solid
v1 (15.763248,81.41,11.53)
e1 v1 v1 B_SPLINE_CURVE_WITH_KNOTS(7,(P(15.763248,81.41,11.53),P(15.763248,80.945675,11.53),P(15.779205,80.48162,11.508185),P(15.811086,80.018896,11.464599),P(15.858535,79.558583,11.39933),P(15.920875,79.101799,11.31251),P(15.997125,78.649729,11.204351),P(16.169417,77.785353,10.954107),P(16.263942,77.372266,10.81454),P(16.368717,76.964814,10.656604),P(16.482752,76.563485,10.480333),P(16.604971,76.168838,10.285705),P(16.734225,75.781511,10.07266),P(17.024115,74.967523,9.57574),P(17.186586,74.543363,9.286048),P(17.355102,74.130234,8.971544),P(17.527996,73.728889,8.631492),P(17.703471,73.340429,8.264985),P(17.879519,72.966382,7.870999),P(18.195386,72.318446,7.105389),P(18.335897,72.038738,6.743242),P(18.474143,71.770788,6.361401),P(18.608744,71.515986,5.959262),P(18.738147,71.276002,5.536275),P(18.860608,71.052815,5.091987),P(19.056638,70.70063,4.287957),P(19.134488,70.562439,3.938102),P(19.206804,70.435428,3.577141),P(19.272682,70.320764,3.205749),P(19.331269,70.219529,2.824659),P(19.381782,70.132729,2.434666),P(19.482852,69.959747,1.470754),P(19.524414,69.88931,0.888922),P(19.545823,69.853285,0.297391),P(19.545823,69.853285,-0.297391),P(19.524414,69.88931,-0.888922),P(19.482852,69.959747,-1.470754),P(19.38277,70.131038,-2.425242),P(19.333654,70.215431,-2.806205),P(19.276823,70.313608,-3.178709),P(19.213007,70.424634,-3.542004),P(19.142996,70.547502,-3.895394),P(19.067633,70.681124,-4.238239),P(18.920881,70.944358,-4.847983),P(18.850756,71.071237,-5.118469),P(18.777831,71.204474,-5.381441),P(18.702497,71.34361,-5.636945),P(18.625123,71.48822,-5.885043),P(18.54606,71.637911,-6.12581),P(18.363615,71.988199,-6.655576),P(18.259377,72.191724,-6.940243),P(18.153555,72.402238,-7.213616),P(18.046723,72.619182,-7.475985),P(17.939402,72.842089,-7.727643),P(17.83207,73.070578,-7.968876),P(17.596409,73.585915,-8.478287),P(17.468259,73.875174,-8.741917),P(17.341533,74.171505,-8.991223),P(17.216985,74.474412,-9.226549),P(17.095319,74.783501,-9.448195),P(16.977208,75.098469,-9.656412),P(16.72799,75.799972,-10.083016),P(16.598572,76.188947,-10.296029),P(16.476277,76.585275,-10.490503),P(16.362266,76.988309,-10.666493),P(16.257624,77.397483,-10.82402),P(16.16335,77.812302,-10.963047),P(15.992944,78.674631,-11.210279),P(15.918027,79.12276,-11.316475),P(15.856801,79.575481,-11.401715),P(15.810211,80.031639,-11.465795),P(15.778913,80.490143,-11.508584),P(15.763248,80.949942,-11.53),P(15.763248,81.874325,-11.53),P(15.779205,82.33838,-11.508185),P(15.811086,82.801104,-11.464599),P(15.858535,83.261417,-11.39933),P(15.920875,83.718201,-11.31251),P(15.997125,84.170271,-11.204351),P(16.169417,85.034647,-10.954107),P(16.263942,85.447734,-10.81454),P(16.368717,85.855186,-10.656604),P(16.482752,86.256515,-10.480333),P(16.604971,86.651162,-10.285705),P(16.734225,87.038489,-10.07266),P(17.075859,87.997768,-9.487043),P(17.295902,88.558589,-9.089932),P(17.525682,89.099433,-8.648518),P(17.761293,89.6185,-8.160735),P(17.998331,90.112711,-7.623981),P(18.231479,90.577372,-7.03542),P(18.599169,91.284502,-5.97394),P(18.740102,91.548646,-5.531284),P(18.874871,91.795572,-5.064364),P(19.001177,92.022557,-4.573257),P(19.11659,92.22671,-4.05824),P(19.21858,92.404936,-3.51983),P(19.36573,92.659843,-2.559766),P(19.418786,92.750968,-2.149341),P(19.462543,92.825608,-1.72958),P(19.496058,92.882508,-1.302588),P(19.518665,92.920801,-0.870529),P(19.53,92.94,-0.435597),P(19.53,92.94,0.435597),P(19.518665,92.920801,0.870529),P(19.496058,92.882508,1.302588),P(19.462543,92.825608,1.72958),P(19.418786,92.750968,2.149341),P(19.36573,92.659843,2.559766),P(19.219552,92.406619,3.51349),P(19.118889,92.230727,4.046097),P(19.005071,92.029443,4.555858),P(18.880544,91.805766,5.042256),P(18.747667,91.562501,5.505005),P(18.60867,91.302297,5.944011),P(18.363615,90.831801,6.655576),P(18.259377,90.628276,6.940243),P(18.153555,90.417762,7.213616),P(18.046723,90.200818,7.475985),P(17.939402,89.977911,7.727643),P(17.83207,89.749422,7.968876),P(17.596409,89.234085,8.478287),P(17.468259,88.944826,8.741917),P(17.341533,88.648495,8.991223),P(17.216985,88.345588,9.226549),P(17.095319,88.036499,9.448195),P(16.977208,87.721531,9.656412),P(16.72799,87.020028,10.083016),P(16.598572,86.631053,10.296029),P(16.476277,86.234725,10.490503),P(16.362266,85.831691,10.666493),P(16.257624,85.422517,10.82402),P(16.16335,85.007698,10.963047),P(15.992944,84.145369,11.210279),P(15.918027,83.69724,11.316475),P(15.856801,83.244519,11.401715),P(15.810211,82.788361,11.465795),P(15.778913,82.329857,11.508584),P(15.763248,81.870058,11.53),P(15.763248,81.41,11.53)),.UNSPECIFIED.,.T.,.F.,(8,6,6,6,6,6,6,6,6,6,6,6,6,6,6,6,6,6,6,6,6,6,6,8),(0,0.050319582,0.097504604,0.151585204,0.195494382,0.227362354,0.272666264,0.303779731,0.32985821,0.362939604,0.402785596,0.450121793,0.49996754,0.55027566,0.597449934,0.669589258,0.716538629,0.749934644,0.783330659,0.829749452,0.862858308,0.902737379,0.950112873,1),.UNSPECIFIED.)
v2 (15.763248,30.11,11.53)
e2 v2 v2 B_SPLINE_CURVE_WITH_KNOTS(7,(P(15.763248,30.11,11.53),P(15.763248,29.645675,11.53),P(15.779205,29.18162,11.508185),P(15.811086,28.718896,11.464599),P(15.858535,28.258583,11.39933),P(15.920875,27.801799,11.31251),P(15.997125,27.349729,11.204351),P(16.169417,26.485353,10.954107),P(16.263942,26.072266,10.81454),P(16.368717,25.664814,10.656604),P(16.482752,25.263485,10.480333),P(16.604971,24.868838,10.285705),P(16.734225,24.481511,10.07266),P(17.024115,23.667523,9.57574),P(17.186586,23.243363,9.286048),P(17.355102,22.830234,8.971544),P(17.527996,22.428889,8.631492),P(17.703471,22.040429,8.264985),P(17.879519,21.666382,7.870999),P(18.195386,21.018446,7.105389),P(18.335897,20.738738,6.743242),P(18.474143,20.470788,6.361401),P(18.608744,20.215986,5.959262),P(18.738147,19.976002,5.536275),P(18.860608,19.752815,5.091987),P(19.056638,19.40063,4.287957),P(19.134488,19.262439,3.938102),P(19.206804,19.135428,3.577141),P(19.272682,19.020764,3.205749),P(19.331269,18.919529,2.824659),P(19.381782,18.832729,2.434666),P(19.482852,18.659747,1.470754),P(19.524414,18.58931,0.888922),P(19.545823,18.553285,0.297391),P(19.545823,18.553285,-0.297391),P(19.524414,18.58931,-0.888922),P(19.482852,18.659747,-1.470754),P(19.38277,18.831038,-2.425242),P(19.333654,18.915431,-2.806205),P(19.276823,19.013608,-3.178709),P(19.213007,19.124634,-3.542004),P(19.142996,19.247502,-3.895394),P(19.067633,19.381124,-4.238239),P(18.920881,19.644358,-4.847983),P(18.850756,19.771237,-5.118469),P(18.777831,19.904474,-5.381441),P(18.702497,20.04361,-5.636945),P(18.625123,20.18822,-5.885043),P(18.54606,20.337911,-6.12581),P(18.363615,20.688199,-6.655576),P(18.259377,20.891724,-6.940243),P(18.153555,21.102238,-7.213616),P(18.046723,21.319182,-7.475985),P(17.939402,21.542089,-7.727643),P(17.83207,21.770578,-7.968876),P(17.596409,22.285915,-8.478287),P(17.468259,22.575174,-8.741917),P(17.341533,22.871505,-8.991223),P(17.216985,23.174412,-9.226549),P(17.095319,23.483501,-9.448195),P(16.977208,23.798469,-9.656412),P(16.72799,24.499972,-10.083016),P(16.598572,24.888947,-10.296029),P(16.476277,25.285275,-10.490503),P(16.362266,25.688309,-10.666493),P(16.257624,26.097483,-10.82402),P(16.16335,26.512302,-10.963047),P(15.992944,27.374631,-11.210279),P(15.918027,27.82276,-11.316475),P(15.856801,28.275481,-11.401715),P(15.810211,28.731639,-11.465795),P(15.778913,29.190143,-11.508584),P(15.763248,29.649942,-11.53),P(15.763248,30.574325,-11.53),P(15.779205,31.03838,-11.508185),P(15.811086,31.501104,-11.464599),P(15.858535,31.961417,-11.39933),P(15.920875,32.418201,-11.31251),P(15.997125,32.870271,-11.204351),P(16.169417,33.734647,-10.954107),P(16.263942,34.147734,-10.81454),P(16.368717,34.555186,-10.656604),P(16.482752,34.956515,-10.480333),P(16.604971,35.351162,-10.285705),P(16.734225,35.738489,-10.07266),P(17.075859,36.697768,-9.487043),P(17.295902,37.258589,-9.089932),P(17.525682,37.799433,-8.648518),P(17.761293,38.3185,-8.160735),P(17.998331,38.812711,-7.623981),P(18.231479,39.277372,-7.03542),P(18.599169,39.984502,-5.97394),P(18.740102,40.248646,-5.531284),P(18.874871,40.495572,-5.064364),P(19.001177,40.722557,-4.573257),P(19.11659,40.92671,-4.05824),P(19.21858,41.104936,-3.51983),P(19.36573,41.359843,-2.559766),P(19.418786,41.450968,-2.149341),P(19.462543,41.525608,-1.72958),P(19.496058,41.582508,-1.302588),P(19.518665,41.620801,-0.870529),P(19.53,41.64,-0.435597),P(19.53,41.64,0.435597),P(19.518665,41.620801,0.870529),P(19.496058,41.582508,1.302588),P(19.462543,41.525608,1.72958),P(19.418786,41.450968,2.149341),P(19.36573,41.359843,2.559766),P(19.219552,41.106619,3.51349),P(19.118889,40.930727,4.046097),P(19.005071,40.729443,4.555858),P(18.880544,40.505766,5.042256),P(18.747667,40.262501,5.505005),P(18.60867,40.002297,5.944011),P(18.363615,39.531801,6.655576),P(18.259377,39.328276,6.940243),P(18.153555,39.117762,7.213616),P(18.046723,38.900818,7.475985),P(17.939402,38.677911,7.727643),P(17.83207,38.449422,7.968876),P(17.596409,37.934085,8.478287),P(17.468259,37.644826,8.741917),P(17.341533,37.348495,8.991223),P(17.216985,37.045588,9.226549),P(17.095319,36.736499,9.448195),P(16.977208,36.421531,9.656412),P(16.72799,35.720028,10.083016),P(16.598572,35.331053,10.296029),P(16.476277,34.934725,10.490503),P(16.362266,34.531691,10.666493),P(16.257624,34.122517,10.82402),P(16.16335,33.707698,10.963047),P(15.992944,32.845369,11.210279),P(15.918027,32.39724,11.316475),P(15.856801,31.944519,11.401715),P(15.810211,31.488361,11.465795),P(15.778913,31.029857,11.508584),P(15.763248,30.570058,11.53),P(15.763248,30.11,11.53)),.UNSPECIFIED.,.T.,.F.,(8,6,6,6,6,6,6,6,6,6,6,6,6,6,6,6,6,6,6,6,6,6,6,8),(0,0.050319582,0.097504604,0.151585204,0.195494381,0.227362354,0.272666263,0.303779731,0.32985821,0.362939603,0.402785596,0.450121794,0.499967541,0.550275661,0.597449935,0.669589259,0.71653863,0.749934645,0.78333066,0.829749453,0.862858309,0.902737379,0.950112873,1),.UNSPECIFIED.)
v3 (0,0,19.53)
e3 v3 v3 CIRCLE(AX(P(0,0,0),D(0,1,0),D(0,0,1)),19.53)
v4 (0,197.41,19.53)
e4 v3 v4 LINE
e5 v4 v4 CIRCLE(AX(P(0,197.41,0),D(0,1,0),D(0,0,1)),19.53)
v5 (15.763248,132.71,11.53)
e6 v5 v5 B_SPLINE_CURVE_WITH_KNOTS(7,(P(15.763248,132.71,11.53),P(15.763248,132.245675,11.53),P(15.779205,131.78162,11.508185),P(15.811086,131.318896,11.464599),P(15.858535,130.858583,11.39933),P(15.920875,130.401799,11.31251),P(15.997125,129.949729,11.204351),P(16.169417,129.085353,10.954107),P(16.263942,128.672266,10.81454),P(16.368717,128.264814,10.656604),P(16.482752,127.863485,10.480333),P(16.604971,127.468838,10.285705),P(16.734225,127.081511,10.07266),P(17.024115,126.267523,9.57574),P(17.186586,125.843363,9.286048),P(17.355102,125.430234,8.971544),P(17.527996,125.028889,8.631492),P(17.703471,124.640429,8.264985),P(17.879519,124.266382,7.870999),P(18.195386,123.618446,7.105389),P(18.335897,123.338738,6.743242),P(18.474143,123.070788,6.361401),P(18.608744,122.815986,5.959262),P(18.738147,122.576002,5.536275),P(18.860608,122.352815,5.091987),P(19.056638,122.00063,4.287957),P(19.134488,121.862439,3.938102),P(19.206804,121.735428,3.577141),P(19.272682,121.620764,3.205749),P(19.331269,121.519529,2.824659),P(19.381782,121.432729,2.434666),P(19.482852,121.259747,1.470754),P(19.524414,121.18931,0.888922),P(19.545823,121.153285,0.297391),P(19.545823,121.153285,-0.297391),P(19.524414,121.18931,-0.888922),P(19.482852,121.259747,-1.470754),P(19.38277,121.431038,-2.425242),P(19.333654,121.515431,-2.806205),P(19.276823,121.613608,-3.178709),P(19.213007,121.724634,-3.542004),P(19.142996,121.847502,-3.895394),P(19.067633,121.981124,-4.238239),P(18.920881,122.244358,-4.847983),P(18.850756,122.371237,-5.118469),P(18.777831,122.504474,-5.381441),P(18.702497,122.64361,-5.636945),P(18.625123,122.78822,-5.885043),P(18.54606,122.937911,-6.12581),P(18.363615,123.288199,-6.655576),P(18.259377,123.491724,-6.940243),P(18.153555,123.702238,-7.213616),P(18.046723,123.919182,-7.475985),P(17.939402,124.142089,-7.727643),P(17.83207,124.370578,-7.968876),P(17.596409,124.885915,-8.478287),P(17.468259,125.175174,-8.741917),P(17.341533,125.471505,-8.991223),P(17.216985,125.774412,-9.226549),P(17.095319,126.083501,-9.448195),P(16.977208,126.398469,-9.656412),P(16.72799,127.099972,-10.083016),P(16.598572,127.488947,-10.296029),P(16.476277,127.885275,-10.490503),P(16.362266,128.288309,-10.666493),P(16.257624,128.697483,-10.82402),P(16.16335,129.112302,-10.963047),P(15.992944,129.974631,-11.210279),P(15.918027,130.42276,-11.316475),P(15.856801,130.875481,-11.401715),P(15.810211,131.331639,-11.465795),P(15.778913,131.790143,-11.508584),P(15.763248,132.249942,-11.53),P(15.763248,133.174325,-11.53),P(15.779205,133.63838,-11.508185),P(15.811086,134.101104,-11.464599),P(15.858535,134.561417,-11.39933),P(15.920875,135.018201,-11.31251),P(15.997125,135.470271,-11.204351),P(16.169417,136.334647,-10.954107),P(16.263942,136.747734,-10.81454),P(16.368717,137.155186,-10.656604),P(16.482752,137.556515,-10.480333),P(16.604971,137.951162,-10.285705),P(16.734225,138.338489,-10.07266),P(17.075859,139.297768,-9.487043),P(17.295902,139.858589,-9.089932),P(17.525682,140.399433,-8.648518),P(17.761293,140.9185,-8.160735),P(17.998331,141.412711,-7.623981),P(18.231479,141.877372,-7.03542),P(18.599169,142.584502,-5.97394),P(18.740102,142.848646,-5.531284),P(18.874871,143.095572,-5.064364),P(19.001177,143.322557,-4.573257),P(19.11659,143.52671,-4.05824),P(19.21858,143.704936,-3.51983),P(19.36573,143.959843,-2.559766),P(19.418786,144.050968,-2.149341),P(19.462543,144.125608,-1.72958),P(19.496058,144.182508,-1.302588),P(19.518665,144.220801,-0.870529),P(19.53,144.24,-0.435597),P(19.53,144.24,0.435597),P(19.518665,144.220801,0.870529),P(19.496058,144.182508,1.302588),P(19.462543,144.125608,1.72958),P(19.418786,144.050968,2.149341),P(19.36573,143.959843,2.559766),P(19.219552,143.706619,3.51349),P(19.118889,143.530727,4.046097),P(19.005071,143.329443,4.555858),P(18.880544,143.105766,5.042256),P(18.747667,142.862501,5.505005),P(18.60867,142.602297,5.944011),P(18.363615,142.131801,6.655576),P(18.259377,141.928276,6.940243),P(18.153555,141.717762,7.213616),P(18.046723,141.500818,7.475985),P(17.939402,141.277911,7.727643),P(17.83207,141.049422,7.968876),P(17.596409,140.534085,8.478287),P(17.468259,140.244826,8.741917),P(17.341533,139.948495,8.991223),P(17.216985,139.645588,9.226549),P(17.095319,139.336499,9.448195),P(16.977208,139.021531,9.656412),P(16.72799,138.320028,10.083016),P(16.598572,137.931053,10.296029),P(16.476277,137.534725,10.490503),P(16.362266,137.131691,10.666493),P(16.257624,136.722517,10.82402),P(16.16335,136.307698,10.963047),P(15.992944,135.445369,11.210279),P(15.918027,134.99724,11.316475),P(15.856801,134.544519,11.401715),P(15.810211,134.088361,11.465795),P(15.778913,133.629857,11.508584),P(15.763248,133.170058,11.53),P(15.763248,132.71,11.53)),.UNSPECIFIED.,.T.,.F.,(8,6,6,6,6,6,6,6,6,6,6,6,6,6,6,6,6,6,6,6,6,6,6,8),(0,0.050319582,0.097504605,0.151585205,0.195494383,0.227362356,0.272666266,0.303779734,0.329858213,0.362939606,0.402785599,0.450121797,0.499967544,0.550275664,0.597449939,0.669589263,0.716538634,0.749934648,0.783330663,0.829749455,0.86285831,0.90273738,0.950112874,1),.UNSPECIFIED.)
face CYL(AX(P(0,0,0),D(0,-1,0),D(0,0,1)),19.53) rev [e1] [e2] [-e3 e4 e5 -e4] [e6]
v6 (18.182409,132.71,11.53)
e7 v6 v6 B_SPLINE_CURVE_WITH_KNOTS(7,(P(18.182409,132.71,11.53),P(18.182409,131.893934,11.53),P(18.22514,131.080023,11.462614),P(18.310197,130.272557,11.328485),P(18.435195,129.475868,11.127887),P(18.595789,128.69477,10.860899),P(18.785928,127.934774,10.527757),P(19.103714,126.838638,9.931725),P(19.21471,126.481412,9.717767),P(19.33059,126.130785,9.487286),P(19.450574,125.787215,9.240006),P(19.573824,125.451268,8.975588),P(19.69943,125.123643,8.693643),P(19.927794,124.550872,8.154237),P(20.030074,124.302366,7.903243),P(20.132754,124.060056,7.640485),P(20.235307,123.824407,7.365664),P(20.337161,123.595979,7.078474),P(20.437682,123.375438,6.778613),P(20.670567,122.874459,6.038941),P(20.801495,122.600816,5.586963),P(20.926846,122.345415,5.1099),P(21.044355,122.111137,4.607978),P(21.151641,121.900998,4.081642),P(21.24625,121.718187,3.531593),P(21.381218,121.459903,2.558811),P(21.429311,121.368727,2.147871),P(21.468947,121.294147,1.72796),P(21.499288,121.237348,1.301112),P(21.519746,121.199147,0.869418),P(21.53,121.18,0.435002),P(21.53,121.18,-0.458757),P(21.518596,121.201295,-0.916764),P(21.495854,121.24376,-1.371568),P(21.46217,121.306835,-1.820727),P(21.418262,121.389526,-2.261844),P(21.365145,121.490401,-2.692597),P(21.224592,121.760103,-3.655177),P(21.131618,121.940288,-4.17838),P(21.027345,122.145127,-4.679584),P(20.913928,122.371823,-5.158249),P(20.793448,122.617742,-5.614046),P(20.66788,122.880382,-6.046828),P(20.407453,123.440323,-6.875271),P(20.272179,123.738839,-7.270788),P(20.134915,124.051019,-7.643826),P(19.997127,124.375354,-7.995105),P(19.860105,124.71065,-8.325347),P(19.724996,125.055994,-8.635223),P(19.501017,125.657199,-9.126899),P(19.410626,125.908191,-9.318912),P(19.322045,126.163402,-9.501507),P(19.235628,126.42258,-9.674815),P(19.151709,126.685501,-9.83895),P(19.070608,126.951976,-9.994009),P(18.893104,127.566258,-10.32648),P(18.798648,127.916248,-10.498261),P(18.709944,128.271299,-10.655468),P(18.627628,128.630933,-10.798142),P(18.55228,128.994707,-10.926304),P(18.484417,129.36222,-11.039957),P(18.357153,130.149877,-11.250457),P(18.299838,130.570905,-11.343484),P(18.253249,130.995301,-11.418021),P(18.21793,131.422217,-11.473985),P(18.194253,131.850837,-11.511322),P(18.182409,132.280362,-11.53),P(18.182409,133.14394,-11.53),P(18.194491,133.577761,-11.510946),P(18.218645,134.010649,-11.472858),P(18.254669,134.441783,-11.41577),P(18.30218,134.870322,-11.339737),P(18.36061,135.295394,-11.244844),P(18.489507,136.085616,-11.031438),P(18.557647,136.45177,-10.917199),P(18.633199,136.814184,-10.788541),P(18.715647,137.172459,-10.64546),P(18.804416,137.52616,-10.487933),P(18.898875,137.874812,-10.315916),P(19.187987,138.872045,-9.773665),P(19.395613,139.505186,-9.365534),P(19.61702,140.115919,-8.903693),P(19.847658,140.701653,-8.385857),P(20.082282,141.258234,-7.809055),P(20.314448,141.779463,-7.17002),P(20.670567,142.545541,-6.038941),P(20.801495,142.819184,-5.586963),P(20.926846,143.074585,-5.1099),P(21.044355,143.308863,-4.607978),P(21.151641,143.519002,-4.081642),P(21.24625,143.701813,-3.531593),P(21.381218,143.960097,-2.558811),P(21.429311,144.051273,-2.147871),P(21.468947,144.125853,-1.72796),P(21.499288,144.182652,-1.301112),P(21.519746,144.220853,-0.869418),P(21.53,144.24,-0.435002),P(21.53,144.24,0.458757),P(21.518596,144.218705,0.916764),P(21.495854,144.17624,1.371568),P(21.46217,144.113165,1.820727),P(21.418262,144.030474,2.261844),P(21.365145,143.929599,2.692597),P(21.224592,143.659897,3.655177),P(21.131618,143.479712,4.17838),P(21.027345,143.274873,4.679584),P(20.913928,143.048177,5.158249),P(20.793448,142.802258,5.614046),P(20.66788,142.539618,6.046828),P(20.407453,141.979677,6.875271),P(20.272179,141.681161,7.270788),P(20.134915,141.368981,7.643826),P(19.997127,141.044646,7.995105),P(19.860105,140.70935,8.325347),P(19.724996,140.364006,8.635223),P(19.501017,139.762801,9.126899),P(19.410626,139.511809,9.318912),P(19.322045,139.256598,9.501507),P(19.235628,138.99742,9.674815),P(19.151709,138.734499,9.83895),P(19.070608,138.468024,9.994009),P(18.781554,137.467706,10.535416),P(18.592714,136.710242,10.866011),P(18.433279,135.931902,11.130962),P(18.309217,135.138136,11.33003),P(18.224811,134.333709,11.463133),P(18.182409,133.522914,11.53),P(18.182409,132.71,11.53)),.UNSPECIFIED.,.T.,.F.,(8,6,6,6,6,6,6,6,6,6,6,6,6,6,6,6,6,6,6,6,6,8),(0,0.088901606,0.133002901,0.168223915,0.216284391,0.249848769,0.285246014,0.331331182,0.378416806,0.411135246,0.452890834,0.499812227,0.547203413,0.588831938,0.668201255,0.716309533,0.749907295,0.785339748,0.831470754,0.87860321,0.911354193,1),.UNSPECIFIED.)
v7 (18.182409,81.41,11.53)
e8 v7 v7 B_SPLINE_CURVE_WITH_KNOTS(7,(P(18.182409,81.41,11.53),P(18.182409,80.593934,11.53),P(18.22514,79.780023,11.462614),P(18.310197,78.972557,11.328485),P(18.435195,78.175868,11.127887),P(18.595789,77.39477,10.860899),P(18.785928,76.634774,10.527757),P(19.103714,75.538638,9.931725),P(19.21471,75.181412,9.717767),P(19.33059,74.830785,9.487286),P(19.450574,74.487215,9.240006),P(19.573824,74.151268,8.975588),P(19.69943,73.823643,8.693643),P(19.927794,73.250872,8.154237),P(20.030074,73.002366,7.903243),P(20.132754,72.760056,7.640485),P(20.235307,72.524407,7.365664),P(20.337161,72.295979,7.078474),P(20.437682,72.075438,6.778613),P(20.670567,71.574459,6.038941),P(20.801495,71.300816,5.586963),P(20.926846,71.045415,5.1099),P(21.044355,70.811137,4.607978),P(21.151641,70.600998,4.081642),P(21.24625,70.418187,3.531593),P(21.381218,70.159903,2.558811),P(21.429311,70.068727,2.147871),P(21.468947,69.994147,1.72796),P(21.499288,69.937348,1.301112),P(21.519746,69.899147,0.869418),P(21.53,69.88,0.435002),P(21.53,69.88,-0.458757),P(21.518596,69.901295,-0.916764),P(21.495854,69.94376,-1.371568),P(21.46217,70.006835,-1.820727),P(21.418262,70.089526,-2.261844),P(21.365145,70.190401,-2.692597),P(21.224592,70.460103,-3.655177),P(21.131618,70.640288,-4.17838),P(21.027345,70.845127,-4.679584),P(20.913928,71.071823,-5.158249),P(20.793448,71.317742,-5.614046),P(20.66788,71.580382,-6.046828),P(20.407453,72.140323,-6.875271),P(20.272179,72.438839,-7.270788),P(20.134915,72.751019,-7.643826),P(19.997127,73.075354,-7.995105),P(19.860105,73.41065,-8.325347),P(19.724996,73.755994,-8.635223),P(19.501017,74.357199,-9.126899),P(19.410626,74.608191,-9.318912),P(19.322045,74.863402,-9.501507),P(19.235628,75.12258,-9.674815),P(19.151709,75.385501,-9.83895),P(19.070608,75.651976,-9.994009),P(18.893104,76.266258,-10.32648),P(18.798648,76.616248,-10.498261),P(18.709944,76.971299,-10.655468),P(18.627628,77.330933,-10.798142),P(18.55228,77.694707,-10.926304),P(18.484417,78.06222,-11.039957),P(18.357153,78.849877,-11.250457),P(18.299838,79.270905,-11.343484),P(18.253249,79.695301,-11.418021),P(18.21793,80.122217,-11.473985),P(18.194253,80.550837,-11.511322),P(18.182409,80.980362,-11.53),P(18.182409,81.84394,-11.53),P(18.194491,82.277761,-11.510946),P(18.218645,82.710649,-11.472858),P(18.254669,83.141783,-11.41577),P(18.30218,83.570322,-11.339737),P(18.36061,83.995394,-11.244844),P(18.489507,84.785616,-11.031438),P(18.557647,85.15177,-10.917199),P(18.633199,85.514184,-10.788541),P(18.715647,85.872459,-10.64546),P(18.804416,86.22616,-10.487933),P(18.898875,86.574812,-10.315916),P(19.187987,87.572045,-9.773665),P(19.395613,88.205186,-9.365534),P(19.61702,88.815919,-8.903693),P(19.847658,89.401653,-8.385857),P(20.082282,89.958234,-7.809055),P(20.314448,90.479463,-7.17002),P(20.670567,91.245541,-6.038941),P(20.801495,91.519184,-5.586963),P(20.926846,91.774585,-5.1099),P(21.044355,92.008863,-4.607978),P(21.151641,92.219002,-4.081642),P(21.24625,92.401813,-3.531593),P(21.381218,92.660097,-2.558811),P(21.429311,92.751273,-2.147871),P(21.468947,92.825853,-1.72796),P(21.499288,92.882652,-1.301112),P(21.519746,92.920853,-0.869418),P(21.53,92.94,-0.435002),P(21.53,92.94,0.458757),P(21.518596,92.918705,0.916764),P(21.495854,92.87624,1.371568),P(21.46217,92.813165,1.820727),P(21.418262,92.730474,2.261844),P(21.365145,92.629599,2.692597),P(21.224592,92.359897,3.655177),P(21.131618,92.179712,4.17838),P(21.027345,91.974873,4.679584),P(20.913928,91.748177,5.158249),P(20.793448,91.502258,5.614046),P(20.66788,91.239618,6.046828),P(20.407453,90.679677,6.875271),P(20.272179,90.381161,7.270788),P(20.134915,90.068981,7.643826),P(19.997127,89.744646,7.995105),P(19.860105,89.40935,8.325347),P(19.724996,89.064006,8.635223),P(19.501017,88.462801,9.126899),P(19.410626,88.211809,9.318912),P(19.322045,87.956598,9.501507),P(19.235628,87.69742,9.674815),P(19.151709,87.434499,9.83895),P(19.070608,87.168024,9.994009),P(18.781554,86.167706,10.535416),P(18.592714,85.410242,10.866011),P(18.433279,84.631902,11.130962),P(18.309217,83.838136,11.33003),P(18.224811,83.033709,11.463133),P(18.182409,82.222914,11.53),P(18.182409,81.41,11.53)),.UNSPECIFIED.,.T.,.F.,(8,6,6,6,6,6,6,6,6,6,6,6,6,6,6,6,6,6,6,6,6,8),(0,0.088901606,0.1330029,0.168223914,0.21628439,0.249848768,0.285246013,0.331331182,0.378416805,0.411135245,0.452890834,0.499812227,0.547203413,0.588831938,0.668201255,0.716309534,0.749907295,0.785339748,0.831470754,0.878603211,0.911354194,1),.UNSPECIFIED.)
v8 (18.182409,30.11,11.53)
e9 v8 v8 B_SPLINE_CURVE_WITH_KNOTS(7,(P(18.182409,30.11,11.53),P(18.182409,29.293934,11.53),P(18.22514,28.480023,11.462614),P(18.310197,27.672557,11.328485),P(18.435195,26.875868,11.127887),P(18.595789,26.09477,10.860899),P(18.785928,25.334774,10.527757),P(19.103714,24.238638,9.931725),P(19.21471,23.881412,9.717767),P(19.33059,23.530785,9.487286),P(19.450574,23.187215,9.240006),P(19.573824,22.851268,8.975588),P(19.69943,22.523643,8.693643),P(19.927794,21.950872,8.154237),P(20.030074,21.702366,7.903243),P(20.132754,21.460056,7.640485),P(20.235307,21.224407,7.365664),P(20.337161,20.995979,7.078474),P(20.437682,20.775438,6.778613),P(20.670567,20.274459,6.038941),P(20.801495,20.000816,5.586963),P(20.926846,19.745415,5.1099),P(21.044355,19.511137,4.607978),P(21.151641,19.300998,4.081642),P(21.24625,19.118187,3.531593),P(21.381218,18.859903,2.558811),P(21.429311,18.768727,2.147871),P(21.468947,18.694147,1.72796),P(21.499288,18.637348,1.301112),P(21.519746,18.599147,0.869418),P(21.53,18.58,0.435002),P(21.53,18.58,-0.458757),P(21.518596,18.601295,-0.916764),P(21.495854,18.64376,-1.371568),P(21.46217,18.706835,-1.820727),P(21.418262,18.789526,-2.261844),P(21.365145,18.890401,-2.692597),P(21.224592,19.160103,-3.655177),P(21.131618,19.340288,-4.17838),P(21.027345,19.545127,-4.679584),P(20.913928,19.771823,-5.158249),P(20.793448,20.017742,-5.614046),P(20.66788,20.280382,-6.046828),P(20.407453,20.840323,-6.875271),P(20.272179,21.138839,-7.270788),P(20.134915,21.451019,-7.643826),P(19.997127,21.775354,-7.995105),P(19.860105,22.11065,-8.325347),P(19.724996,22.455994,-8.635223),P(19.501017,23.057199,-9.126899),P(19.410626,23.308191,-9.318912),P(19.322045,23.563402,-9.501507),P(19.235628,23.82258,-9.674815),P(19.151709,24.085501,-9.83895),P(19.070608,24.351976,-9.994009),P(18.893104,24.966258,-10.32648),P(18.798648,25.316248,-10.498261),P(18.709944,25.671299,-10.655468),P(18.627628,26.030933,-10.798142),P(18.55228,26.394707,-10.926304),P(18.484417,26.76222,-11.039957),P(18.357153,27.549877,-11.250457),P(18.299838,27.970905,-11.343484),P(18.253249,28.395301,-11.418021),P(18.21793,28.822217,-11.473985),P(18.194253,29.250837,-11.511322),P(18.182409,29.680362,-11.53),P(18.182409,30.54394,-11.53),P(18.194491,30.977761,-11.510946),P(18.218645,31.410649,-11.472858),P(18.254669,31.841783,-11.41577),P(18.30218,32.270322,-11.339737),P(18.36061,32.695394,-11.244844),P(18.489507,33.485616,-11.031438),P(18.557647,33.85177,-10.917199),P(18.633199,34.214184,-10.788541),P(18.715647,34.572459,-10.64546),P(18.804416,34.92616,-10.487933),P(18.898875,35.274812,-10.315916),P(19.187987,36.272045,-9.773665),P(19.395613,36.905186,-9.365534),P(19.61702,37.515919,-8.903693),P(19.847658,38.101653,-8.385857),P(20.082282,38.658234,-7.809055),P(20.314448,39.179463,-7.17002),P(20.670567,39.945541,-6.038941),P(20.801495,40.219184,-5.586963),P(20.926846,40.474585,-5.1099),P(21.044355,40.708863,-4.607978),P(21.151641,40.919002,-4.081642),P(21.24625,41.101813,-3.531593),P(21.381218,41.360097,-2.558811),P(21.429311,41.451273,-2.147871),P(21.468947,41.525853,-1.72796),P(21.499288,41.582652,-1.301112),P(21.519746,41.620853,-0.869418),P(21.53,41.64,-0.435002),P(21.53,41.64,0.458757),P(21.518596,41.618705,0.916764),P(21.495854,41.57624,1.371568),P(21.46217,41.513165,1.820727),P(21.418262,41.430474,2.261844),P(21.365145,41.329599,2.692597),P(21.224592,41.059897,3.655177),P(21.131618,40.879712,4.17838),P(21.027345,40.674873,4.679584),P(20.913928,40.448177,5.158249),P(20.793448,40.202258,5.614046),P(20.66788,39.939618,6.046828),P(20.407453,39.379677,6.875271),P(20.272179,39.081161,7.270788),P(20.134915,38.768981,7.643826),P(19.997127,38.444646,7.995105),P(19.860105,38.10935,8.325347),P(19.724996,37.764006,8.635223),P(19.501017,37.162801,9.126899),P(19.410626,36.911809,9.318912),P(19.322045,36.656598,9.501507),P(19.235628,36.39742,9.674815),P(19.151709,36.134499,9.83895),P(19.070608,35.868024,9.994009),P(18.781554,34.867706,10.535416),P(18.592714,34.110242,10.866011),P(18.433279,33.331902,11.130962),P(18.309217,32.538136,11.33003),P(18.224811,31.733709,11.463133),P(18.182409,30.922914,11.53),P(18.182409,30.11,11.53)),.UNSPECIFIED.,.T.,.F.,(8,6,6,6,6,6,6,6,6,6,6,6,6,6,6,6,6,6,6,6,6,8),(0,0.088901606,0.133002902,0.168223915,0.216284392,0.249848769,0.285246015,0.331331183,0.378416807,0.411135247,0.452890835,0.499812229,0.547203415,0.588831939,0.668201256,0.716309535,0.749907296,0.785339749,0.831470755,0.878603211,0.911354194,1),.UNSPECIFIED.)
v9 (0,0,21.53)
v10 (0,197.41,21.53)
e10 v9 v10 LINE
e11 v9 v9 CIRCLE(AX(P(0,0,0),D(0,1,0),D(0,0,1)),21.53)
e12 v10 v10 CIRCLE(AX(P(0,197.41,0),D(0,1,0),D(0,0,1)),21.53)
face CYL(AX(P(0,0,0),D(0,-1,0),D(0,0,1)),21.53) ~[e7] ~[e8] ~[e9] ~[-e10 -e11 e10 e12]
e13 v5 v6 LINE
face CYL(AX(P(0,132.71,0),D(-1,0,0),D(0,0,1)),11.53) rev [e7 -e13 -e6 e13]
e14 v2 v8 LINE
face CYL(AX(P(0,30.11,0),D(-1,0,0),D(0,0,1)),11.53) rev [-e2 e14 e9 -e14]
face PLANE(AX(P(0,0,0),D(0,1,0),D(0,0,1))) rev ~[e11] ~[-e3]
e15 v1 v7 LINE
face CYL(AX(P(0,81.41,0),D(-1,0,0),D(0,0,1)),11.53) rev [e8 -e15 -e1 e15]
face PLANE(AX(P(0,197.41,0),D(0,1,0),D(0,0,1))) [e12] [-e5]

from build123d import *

# Parameters (mm, degrees)
SKETCH1_R           = 21.53
SKETCH1_R_2         = 19.53
BOSS_EXTRUDE1_DEPTH = 197.41
SKETCH2_R           = 11.53
CUT_EXTRUDE1_DEPTH  = 200.744311308


with BuildPart() as part:
    # Sketch1 → Boss-Extrude1 (new body)
    with BuildSketch(Plane(origin=(0, 0, 0), x_dir=(1, 0, 0), z_dir=(0, 1, 0))):
        with Locations(Location((0, 0, 0), (0, 0, 270))):
            Circle(SKETCH1_R)
        with Locations(Location((0, 0, 0), (0, 0, 270))):
            Circle(SKETCH1_R_2, mode=Mode.SUBTRACT)
    extrude(amount=BOSS_EXTRUDE1_DEPTH)

    # Sketch2 → Cut-Extrude1 (cut, through all)
    with BuildSketch(Plane(origin=(0, 0, 0), x_dir=(0, 0, -1), z_dir=(1, 0, 0))):
        with Locations(Location((0, 132.71, 0), (0, 0, 180))):
            Circle(SKETCH2_R)
        with Locations(Location((0, 81.41, 0), (0, 0, 180))):
            Circle(SKETCH2_R)
        with Locations(Location((0, 30.11, 0), (0, 0, 180))):
            Circle(SKETCH2_R)
    extrude(amount=CUT_EXTRUDE1_DEPTH, mode=Mode.SUBTRACT)


solid = part.part
